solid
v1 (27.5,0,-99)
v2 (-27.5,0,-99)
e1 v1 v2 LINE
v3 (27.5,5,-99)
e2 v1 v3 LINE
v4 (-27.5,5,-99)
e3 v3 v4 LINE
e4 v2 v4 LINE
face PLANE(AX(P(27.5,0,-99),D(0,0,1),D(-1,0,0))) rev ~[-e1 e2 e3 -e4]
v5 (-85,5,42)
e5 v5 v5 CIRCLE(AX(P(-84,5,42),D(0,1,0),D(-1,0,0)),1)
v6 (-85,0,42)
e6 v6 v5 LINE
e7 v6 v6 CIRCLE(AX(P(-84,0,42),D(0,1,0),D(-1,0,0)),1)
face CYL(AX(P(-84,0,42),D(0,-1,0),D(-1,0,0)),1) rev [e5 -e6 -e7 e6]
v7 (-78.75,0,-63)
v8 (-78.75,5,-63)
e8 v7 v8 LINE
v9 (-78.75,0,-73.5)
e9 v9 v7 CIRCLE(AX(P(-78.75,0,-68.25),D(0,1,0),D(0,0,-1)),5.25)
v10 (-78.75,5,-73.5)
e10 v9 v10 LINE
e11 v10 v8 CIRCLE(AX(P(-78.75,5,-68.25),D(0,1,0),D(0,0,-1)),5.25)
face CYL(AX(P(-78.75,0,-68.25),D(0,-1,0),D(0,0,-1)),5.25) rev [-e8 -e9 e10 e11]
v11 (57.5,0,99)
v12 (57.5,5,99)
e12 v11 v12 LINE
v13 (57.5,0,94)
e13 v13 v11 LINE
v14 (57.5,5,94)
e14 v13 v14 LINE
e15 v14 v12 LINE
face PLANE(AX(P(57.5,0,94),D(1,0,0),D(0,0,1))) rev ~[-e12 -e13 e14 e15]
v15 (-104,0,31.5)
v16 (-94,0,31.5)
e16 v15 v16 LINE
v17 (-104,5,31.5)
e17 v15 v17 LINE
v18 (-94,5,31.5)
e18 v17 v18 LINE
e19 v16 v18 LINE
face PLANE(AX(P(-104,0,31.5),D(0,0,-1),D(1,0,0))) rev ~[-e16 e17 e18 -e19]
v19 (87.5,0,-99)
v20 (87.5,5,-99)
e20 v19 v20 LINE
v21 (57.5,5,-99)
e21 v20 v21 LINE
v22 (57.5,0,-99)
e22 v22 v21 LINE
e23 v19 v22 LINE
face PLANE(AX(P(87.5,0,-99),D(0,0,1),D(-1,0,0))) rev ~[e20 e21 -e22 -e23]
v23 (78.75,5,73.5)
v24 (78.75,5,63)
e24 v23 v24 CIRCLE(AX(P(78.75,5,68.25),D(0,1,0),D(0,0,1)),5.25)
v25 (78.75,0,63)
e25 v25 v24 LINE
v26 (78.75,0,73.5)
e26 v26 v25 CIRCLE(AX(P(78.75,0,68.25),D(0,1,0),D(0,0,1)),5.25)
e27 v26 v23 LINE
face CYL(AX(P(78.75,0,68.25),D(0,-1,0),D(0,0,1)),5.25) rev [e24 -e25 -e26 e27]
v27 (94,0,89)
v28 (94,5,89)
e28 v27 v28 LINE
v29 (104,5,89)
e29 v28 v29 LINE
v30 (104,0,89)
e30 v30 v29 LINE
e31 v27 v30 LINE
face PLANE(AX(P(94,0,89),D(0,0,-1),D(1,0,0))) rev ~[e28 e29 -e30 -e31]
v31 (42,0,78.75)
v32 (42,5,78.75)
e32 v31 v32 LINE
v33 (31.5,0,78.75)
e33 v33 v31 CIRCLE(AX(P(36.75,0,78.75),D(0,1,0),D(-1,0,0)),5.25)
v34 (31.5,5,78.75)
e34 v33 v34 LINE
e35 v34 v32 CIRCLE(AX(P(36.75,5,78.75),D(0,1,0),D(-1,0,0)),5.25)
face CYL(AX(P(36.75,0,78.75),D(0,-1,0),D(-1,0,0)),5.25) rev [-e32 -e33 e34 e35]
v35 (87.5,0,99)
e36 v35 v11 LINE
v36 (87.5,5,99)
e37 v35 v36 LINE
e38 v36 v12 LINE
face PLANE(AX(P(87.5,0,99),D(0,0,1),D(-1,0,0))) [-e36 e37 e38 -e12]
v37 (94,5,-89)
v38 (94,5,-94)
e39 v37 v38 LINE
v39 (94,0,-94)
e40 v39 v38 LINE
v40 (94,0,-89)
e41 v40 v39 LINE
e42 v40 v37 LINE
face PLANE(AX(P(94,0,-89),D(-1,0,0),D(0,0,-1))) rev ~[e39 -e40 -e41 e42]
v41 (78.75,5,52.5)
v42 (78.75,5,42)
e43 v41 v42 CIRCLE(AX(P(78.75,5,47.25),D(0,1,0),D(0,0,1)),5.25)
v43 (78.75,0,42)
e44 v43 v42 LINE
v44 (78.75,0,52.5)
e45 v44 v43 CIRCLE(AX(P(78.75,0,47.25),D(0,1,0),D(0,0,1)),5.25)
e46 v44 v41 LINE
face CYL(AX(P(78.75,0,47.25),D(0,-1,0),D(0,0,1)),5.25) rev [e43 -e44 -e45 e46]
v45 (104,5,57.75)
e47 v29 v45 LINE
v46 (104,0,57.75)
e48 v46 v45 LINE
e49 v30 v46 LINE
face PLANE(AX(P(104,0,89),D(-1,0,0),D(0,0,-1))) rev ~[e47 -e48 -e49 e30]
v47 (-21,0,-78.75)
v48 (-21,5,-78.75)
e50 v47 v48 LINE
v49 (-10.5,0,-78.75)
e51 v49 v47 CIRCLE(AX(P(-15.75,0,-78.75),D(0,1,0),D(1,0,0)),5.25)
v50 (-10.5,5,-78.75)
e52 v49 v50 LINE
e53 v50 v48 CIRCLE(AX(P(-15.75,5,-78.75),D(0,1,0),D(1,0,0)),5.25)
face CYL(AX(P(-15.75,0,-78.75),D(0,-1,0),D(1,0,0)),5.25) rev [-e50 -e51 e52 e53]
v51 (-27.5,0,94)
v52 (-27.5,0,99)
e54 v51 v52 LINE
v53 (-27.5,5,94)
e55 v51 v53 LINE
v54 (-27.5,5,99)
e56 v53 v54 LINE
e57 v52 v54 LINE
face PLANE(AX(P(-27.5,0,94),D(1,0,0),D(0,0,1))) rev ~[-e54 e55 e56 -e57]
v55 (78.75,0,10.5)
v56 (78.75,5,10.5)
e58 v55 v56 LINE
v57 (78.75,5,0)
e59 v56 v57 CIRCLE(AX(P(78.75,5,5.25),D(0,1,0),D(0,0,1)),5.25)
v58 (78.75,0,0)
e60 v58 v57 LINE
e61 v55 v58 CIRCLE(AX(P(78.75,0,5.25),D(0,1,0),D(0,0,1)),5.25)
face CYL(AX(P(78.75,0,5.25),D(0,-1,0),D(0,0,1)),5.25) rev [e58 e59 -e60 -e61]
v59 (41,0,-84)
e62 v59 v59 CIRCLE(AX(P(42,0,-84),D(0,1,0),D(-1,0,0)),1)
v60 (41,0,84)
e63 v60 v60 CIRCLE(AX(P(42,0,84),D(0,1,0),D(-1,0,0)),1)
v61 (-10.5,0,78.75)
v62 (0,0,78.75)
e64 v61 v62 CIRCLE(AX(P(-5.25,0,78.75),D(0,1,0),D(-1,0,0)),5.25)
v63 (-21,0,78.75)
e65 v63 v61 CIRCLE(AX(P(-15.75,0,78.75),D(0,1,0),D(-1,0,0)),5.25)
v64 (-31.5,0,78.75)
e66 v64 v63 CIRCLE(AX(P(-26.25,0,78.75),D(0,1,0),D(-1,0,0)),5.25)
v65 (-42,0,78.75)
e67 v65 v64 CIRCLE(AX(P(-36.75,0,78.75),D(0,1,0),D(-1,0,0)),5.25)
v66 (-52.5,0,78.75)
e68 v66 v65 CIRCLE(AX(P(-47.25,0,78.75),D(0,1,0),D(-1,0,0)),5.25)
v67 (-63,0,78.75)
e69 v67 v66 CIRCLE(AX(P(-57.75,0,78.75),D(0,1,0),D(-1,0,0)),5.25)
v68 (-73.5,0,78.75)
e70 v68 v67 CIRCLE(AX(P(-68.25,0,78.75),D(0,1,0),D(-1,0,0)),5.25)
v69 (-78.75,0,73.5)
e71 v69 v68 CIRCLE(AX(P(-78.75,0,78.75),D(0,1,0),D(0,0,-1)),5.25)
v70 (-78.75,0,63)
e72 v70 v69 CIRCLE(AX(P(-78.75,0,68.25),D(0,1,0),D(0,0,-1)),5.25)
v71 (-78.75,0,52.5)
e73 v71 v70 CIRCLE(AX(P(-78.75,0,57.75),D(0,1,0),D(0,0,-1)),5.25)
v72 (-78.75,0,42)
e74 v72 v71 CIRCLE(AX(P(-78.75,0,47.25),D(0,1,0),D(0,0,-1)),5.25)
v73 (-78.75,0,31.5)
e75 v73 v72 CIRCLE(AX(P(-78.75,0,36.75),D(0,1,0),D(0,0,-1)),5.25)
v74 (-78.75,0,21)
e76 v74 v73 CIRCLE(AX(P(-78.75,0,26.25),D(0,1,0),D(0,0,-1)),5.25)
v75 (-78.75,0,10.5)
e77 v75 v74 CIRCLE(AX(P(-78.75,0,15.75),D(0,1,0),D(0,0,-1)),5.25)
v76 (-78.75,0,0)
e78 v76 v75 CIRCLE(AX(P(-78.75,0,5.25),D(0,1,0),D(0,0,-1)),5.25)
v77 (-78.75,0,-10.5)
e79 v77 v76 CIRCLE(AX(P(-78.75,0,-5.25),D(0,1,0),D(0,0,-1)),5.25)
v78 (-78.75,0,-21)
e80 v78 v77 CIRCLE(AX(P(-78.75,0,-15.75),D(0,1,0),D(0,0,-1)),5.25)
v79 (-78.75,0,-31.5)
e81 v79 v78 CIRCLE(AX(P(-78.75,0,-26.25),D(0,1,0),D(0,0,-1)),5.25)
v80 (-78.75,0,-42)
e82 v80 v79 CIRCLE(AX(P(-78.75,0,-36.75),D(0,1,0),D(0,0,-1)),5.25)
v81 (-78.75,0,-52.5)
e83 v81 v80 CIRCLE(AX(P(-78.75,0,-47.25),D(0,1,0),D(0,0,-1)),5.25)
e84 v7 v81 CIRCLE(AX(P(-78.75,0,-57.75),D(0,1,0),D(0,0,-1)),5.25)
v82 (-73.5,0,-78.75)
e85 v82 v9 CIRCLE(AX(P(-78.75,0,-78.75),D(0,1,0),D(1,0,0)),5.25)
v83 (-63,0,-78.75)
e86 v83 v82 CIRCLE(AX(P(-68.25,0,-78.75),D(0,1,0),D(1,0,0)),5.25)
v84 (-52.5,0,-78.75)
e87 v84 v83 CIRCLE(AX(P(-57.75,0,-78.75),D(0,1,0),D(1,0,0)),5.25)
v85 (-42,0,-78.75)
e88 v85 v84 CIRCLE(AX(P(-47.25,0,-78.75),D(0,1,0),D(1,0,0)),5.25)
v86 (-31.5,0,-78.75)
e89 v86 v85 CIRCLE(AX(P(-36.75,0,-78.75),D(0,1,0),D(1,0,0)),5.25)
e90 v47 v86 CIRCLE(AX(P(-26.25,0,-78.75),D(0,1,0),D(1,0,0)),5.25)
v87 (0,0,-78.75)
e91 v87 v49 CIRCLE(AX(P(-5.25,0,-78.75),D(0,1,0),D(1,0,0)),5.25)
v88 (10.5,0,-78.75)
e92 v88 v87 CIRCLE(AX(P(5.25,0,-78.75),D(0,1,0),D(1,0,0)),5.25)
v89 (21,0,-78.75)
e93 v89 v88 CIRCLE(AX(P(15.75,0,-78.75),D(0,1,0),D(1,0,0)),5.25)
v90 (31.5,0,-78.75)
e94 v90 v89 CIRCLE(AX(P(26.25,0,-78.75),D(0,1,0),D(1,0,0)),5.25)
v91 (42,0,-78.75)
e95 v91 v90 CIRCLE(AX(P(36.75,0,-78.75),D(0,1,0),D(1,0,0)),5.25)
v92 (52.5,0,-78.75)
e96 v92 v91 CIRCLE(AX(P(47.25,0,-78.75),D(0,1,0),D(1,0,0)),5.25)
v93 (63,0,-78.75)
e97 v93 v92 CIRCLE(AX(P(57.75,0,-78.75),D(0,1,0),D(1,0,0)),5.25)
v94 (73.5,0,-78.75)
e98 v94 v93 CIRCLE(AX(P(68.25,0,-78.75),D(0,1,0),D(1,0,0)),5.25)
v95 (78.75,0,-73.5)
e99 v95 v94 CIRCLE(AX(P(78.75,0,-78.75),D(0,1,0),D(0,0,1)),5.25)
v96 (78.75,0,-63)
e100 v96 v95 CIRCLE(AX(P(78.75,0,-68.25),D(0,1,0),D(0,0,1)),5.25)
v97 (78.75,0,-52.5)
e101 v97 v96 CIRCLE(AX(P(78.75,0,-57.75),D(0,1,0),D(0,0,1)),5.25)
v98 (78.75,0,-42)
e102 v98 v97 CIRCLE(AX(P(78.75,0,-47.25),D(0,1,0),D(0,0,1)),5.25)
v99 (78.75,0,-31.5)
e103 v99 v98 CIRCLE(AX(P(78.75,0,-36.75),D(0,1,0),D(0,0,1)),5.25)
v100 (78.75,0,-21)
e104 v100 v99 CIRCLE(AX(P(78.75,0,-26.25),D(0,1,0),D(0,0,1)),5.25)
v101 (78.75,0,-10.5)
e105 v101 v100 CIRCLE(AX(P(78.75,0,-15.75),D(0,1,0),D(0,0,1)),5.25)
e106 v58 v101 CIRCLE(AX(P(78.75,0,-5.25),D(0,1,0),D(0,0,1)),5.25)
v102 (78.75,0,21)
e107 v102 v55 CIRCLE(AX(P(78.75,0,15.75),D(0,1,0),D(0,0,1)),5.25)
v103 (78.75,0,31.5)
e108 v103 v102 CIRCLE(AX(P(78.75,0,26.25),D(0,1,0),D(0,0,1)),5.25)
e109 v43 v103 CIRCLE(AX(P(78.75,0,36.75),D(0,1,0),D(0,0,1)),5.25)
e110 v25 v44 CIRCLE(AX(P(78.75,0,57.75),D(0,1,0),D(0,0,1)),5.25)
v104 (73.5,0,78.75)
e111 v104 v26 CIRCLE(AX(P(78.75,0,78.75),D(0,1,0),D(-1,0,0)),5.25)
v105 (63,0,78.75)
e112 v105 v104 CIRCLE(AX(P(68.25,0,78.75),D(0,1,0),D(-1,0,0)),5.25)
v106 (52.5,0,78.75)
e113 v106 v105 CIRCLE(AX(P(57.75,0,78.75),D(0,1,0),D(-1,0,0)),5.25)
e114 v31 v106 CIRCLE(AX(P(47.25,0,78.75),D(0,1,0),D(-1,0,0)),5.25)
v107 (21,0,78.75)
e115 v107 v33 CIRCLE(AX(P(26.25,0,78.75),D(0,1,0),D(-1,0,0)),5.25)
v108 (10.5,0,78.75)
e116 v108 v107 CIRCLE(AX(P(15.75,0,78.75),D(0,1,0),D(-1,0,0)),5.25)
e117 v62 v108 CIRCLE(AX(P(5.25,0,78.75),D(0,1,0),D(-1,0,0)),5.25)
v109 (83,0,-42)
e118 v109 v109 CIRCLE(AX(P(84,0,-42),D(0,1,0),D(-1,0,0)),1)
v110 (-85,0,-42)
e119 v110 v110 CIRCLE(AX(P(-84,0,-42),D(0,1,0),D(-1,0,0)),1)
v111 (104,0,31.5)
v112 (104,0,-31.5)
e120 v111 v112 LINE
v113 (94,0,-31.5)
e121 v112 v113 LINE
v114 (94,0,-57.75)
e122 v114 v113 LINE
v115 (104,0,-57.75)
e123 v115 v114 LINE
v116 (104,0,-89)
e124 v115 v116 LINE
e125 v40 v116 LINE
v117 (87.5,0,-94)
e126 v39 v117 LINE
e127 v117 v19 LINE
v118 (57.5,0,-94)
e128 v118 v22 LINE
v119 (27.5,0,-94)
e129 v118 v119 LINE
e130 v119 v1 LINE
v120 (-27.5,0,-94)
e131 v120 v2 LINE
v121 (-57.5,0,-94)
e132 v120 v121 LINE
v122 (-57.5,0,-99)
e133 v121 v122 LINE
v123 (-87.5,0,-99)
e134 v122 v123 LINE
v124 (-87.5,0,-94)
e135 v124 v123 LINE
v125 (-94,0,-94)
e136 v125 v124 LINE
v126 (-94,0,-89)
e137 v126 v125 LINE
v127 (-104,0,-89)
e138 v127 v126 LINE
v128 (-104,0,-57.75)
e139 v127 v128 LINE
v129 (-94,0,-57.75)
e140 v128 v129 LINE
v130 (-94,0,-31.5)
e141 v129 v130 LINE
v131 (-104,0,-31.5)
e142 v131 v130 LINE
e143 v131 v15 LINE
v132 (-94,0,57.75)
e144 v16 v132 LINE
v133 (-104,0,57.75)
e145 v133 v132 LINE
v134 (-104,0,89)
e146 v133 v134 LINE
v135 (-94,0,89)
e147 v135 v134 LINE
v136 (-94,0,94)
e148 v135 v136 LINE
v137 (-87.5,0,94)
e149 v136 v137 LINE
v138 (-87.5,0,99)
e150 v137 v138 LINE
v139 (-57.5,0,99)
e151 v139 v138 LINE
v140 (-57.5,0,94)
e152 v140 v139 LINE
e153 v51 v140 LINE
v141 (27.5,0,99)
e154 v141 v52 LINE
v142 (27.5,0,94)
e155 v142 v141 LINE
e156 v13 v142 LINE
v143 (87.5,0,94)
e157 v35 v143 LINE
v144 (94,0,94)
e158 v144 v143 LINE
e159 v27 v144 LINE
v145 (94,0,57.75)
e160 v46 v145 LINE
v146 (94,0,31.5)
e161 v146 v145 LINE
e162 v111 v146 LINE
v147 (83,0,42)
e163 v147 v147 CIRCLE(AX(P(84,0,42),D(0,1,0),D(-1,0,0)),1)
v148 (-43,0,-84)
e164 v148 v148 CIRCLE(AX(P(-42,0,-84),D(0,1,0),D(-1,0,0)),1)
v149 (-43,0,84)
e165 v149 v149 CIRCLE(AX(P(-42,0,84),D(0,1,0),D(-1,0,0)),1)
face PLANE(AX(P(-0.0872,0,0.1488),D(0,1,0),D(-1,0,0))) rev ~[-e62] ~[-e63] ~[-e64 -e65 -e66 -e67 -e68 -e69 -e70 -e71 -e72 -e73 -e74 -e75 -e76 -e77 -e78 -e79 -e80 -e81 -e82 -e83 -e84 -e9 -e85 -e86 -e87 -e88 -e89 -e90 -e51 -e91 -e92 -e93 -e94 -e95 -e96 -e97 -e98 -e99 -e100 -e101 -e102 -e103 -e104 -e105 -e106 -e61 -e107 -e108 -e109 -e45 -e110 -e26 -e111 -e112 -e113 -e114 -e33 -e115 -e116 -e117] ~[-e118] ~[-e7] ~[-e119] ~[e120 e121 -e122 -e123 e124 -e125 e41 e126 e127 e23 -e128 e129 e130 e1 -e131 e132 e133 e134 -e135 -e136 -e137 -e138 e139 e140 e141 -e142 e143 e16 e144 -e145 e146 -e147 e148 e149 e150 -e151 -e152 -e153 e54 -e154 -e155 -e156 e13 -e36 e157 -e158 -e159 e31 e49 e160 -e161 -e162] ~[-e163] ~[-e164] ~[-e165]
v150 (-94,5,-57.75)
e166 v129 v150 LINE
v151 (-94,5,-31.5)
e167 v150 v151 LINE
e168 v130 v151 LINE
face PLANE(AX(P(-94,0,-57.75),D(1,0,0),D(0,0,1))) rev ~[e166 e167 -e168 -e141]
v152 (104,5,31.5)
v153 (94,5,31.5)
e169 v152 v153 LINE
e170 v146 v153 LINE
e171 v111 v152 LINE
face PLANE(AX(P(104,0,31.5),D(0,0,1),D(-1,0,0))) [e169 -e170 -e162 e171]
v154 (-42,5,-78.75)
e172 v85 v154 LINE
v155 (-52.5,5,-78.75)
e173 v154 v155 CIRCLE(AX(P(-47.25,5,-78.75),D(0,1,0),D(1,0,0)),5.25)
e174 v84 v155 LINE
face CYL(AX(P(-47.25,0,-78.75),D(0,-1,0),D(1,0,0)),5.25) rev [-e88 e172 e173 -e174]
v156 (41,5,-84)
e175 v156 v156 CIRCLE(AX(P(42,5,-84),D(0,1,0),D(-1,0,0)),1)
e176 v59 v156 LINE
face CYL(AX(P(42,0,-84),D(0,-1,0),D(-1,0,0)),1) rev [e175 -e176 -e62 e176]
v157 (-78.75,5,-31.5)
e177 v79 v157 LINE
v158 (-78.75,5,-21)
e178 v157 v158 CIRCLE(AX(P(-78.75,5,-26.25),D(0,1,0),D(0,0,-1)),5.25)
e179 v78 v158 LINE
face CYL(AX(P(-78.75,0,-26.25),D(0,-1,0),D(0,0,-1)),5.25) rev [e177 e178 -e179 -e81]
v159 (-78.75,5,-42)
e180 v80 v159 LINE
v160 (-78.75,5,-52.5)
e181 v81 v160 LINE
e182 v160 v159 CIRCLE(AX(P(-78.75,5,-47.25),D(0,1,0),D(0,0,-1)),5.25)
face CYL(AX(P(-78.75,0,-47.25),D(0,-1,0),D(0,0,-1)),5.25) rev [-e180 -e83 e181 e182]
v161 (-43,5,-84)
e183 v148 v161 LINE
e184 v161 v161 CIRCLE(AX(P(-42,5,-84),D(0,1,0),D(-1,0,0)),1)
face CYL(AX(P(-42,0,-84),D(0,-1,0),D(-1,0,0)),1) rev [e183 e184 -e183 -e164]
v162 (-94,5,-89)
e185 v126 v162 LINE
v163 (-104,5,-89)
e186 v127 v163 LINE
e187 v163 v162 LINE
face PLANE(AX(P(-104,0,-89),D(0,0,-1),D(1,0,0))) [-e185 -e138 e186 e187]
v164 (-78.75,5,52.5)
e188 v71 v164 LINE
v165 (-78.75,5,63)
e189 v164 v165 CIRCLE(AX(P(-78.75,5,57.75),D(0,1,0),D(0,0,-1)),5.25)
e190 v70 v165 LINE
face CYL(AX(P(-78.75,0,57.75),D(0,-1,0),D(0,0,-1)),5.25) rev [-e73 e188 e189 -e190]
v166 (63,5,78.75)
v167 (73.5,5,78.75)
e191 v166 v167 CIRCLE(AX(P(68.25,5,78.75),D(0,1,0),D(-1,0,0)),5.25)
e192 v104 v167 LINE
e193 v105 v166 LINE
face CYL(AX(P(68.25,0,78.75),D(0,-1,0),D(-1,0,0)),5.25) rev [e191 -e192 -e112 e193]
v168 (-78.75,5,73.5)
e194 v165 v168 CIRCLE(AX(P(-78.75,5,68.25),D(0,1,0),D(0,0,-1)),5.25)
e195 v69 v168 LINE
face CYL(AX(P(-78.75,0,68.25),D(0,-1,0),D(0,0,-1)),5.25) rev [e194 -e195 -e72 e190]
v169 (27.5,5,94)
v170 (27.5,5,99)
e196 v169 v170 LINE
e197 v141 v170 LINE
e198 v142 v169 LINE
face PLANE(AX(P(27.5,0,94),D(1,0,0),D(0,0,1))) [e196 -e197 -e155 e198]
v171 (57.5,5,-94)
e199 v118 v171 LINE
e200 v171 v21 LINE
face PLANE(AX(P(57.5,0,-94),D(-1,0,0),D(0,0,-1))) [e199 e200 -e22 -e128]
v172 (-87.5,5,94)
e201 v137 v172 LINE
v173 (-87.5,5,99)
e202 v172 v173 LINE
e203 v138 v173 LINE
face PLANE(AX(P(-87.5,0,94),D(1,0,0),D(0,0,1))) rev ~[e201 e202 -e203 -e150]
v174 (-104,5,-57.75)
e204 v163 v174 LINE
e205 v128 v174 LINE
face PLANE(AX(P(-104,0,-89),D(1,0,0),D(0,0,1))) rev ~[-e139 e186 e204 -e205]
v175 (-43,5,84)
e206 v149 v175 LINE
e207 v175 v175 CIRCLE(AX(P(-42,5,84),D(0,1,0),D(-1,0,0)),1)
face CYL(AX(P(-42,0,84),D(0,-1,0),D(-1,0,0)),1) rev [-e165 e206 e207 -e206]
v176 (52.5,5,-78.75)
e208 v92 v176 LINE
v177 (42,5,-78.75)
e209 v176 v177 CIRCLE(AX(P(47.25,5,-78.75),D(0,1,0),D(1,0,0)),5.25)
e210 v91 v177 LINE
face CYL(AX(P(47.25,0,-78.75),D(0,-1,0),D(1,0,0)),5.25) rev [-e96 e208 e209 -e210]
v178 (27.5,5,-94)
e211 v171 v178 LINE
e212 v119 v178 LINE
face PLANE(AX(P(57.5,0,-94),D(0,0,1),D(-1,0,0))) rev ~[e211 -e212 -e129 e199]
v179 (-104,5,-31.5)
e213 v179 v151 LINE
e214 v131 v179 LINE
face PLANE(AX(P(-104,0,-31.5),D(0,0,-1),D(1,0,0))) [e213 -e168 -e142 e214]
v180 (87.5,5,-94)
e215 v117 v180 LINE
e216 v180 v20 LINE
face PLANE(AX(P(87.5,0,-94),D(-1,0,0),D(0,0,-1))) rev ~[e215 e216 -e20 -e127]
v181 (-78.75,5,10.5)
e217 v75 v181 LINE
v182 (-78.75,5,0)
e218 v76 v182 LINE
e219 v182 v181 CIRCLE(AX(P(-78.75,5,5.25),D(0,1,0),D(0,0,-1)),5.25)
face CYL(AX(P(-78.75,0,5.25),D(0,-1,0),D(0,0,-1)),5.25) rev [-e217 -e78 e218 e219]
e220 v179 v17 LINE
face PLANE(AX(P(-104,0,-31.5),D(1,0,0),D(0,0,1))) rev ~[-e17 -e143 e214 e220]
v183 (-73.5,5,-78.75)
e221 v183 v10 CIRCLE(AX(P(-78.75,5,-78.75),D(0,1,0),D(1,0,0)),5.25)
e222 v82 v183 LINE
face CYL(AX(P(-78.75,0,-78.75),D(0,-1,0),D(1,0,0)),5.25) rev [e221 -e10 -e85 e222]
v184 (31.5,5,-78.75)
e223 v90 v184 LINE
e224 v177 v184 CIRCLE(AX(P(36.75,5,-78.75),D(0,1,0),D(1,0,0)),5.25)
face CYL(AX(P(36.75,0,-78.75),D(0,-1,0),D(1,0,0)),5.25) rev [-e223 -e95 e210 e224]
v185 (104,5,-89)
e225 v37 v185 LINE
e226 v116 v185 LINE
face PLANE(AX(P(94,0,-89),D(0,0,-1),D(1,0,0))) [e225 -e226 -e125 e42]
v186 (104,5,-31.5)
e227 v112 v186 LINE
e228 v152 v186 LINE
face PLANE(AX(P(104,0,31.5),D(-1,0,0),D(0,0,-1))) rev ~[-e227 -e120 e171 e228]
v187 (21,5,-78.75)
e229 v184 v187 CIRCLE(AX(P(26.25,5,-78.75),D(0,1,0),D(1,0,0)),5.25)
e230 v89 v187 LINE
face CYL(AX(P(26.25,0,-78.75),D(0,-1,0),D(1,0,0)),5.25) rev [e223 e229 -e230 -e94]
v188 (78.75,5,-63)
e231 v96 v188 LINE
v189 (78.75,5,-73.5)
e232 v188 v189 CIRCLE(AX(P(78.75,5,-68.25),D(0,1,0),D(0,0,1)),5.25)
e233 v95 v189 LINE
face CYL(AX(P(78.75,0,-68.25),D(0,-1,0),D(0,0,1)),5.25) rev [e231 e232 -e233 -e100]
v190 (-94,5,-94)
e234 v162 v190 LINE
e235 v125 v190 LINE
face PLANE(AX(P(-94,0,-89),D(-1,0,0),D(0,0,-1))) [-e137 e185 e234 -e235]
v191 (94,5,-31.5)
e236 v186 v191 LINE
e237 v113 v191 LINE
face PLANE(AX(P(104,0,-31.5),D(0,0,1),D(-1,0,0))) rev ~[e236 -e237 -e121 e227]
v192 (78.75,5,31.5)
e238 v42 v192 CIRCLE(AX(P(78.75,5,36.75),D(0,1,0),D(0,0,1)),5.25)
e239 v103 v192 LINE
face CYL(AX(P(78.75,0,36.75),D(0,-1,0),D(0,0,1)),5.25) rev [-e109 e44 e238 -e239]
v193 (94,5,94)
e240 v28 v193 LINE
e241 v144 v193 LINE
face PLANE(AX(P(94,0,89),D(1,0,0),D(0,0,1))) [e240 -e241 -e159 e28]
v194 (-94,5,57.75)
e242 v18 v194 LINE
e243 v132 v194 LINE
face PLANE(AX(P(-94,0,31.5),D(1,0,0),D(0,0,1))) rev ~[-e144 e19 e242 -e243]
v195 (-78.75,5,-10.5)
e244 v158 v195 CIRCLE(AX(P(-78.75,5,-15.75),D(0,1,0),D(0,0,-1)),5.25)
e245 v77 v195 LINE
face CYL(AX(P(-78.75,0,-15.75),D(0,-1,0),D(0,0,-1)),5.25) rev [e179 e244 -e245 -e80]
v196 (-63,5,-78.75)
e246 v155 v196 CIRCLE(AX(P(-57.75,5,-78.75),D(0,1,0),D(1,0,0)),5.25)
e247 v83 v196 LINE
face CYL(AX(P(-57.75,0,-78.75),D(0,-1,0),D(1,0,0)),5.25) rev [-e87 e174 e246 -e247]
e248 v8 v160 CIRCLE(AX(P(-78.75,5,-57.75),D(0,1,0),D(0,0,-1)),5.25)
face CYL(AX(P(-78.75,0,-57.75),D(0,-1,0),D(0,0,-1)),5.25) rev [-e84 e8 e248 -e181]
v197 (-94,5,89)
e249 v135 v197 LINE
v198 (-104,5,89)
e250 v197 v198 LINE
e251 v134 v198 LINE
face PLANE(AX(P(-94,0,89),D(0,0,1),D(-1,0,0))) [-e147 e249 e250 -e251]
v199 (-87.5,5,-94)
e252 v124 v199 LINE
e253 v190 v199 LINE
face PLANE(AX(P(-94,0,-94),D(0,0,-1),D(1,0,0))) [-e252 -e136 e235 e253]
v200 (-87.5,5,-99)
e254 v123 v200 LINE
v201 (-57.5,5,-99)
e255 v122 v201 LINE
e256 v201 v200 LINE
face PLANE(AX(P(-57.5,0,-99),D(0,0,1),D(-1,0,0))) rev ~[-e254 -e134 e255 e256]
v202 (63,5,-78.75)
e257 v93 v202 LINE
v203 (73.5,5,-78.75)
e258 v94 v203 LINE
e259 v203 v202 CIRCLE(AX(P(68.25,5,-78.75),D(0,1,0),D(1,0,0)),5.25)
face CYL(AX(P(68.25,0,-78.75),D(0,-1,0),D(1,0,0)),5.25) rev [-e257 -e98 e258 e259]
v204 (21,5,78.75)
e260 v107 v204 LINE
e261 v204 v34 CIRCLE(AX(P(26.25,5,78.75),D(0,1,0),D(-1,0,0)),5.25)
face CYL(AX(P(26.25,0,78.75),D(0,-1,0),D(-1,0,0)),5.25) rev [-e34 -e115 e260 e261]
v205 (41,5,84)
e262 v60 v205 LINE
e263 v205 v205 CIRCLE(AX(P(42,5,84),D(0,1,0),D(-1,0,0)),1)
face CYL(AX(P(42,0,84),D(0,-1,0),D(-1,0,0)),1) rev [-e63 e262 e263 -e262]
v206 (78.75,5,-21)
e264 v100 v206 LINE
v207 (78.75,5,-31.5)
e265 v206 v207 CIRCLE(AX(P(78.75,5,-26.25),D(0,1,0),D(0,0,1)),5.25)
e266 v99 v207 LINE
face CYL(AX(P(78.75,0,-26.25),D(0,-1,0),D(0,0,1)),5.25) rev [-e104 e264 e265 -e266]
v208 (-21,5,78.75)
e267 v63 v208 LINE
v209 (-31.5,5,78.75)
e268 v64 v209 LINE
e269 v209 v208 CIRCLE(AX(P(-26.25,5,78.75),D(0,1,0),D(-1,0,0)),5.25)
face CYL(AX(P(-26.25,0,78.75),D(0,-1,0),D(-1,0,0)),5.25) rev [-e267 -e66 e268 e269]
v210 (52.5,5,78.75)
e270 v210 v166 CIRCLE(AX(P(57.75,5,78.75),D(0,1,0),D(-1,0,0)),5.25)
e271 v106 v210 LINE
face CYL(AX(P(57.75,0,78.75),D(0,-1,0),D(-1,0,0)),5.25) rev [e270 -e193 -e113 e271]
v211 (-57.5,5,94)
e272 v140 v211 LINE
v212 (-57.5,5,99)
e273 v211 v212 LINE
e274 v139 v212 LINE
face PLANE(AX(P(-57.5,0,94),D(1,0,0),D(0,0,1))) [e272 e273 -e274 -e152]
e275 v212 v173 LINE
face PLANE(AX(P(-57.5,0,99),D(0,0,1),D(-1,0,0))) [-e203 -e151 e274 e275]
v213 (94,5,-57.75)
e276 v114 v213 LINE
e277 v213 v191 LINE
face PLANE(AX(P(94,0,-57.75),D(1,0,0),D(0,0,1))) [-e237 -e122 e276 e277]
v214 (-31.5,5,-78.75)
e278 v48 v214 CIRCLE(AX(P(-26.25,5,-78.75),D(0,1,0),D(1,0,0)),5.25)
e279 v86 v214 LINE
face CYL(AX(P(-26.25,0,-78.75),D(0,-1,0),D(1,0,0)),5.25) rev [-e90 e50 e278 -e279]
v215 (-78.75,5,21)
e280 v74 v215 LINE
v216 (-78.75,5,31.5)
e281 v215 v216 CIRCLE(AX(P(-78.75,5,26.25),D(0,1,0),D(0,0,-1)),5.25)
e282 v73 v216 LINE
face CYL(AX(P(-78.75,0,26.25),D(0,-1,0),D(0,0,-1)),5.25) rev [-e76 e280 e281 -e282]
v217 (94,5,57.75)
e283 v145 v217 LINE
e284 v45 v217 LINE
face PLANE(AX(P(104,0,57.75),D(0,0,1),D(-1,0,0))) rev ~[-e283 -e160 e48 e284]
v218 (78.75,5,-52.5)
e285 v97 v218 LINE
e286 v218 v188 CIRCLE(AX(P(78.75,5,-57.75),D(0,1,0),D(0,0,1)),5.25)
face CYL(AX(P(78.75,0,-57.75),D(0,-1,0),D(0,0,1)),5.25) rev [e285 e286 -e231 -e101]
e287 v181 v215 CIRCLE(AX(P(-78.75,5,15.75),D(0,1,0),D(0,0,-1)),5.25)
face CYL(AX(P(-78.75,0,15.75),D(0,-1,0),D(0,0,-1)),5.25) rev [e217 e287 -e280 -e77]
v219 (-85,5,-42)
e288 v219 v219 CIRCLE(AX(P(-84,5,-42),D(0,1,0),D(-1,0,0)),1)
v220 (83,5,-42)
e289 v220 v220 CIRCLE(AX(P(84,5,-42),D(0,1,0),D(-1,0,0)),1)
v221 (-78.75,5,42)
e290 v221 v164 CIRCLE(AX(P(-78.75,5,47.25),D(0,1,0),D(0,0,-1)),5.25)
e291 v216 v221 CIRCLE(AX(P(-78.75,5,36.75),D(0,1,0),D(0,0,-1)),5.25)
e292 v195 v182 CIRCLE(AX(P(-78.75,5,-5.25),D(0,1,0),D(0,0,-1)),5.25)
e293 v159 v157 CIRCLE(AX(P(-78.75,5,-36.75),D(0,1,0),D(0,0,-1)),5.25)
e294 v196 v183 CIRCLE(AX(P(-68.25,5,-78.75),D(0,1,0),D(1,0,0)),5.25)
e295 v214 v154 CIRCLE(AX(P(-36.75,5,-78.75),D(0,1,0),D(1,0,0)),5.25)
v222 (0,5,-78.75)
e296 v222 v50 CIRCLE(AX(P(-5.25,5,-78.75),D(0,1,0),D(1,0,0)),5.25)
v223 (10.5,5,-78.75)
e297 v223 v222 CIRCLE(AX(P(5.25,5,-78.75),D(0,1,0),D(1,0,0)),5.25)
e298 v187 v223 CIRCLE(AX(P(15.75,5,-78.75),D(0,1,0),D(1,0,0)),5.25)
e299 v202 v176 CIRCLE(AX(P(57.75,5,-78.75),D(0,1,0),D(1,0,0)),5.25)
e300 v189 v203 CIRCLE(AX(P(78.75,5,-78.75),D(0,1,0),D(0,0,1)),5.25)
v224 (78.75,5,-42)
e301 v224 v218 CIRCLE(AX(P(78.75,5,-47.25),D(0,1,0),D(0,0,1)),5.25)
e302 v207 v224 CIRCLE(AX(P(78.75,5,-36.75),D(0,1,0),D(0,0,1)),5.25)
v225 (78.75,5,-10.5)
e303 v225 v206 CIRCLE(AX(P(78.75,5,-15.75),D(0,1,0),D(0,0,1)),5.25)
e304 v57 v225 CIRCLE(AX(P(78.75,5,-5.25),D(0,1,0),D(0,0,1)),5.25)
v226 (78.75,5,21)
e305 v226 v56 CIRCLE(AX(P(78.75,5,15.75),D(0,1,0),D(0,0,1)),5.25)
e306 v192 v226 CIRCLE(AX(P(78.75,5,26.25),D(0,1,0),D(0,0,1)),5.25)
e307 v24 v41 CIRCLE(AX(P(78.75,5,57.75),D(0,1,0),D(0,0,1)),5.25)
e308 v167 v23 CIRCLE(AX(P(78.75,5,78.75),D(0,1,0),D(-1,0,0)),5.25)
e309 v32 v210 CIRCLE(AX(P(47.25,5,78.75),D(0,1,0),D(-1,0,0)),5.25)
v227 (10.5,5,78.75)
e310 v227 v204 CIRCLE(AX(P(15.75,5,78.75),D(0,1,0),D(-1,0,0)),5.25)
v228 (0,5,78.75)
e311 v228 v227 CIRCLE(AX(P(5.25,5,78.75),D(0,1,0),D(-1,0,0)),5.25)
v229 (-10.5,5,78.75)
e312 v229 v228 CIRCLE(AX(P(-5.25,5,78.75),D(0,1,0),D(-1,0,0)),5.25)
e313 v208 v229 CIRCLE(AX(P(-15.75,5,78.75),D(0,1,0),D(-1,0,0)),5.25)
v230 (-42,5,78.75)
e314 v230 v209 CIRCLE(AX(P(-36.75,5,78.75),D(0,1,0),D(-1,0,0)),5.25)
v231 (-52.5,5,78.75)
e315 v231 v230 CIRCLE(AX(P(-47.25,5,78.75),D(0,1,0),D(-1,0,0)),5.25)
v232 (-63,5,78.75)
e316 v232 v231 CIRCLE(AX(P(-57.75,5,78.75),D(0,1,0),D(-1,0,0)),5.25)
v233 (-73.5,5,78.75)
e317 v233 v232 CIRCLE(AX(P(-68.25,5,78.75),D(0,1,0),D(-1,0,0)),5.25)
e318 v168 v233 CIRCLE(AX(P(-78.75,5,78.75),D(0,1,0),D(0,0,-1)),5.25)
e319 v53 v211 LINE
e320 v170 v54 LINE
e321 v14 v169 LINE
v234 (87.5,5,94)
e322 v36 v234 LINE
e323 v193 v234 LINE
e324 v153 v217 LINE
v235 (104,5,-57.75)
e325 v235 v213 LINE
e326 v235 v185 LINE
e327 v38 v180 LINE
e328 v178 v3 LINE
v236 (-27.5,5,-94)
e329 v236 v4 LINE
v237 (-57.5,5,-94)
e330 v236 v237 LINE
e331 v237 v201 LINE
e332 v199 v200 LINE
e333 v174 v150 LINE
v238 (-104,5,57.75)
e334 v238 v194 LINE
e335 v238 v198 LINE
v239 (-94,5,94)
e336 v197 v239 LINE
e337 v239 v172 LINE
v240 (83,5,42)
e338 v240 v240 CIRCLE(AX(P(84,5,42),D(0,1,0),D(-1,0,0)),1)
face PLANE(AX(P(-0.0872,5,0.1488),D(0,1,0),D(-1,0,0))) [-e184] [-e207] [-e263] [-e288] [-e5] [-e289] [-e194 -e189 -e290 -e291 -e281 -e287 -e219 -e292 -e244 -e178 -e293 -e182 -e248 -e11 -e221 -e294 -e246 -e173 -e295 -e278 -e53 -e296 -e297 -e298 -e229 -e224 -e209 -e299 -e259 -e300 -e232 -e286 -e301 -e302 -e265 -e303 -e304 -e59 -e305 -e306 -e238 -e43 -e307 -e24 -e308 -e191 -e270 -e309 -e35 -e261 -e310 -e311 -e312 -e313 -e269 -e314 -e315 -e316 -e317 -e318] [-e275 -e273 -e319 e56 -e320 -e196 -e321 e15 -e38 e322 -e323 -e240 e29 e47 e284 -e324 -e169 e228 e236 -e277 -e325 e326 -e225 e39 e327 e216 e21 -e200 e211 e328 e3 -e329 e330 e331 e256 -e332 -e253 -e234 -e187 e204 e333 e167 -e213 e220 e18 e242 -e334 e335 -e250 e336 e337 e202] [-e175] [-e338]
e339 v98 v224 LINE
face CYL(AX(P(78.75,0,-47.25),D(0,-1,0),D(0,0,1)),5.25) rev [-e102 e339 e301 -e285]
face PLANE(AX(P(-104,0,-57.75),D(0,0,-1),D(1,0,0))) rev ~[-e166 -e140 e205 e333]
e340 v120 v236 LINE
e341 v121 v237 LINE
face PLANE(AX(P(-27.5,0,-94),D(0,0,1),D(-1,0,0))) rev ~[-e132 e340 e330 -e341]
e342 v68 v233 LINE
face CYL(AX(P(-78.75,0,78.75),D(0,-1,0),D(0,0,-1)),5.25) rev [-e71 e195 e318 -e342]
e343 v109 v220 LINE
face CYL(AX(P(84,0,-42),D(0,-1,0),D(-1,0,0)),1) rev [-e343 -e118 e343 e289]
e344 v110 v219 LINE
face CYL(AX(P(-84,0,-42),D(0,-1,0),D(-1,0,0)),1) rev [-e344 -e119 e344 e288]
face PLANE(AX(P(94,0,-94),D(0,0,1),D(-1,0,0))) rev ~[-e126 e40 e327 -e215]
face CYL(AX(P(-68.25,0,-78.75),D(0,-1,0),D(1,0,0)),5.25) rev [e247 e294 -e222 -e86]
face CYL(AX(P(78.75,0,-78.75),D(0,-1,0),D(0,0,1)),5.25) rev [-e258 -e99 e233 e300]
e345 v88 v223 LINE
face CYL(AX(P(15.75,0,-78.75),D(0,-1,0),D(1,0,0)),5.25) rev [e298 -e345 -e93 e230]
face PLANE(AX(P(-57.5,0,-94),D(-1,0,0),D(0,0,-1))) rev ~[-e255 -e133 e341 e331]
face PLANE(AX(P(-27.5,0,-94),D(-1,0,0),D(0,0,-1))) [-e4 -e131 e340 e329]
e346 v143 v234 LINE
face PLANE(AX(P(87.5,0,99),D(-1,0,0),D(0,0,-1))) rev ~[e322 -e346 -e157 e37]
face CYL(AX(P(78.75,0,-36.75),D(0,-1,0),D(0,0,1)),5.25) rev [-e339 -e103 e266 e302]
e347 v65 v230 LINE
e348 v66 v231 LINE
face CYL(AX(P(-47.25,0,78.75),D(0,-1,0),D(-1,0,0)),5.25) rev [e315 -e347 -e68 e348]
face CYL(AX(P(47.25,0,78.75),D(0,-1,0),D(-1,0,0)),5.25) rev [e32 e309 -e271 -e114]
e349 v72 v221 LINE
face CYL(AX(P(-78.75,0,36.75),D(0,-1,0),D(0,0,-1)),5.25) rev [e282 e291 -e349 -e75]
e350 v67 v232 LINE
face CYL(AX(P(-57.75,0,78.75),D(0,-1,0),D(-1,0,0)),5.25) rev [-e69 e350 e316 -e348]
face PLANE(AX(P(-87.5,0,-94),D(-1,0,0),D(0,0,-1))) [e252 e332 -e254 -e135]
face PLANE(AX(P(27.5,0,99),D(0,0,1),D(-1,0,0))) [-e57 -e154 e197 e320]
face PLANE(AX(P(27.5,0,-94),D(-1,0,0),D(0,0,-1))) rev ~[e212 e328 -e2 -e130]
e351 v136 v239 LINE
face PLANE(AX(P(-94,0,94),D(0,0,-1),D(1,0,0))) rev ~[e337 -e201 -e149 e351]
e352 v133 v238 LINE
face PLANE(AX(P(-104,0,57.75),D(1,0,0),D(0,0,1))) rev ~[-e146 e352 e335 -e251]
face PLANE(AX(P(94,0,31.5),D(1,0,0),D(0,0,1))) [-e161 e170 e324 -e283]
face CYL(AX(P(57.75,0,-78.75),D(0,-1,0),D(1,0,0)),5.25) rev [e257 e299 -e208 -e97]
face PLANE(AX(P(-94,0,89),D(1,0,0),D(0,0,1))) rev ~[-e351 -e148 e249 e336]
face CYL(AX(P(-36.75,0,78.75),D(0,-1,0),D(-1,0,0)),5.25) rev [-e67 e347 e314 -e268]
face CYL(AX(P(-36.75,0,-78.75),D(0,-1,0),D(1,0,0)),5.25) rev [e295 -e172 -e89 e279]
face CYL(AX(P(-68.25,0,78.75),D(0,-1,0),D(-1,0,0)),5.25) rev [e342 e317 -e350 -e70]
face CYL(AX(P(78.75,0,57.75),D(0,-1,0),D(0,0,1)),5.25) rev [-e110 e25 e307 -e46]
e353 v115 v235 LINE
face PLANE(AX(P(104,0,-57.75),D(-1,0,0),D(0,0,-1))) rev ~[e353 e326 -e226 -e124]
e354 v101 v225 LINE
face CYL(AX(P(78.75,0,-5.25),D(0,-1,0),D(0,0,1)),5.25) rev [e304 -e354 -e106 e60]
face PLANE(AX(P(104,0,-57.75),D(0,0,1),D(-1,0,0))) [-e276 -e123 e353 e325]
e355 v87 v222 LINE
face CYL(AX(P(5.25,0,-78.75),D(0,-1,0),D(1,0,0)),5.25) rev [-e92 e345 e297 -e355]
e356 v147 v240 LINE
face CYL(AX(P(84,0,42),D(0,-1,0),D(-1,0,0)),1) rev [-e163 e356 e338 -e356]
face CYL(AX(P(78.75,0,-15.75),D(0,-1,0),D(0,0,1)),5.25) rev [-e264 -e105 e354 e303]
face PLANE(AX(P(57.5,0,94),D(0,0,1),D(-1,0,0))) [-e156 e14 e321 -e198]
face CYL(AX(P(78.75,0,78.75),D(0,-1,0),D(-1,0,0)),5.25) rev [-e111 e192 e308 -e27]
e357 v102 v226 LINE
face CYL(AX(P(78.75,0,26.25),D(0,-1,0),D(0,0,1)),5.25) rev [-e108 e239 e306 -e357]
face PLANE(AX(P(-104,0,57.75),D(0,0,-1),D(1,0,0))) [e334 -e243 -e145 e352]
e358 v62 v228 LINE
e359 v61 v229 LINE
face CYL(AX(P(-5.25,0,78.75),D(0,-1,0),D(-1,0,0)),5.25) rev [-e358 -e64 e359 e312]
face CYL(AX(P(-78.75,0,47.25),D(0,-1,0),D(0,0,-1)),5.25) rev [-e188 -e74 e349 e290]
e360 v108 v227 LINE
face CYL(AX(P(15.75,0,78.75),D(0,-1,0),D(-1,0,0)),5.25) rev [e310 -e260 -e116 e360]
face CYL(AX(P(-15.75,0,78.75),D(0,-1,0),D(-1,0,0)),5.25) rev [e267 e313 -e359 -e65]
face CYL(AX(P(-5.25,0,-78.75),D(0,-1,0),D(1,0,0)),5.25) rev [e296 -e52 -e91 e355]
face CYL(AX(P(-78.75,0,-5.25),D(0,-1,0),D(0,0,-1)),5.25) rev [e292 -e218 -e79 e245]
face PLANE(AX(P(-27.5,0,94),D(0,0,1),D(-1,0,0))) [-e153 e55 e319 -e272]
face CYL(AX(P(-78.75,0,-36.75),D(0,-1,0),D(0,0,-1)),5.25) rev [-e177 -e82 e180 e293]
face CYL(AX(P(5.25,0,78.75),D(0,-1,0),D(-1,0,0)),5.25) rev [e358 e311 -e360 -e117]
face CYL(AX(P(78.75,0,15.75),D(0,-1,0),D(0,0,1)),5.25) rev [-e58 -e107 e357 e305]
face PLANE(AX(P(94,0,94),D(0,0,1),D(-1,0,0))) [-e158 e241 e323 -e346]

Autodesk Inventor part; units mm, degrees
ref_plane "YZ Plane" through (0, 0, 0) normal (1, 0, 0) x (0, 1, 0)
ref_plane "XZ Plane" through (0, 0, 0) normal (0, 1, 0) x (-1, 0, 0)
ref_plane "XY Plane" through (0, 0, 0) normal (0, 0, 1) x (1, 0, 0)
sketch "Sketch3" plane through (-0.0872, 0, 0.1488) normal (0, 1, 0) x (-1, 0, 0)
  circle A0 centre (-84.0872, -42.1488) radius 1
  line L0 (-94.0872, -57.8988) -> (-94.0872, -31.6488)
  line L1 (-27.5872, -94.1488) -> (-27.5872, -99.1488)
  line L2 (-27.5872, -99.1488) -> (27.4128, -99.1488)
  line L3 (27.4128, -94.1488) -> (27.4128, -99.1488)
  circle A1 centre (-42.0872, -84.1488) radius 1
  line L4 (-57.5872, -94.1488) -> (-27.5872, -94.1488)
  line L5 (-57.5872, -94.1488) -> (-57.5872, -99.1488)
  line L6 (-87.5872, -99.1488) -> (-57.5872, -99.1488)
  line L7 (-104.0872, -57.8988) -> (-104.0872, -89.1488)
  line L8 (-104.0872, -57.8988) -> (-94.0872, -57.8988)
  line L9 (-94.0872, -89.1488) -> (-104.0872, -89.1488)
  line L10 (-94.0872, -89.1488) -> (-94.0872, -94.1488)
  line L11 (-94.0872, -94.1488) -> (-87.5872, -94.1488)
  line L12 (-87.5872, -94.1488) -> (-87.5872, -99.1488)
  line L13 (-104.0872, 31.3512) -> (-104.0872, -31.6488)
  line L14 (-104.0872, -31.6488) -> (-94.0872, -31.6488)
  circle A2 centre (-84.0872, 41.8512) radius 1
  line L15 (-94.0872, 31.3512) -> (-94.0872, 57.6012)
  line L16 (-104.0872, 31.3512) -> (-94.0872, 31.3512)
  line L17 (-104.0872, 57.6012) -> (-94.0872, 57.6012)
  line L18 (-94.0872, 88.8512) -> (-104.0872, 88.8512)
  line L19 (-104.0872, 88.8512) -> (-104.0872, 57.6012)
  circle A3 centre (-42.0872, 83.8512) radius 1
  line L20 (-87.5872, 98.8512) -> (-87.5872, 93.8512)
  line L21 (-94.0872, 93.8512) -> (-87.5872, 93.8512)
  line L22 (-94.0872, 88.8512) -> (-94.0872, 93.8512)
  line L23 (-87.5872, 98.8512) -> (-57.5872, 98.8512)
  line L24 (-57.5872, 93.8512) -> (-57.5872, 98.8512)
  line L25 (-57.5872, 93.8512) -> (-27.5872, 93.8512)
  line L26 (-27.5872, 93.8512) -> (-27.5872, 98.8512)
  line L27 (-27.5872, 98.8512) -> (27.4128, 98.8512)
  line L28 (27.4128, 93.8512) -> (27.4128, 98.8512)
  circle A4 centre (41.9128, -84.1488) radius 1
  line L29 (93.9128, -57.8988) -> (93.9128, -31.6488)
  circle A5 centre (83.9128, -42.1488) radius 1
  line L30 (103.9128, -57.8988) -> (93.9128, -57.8988)
  line L31 (103.9128, -89.1488) -> (103.9128, -57.8988)
  line L32 (103.9128, -89.1488) -> (93.9128, -89.1488)
  line L33 (57.4128, -94.1488) -> (57.4128, -99.1488)
  line L34 (57.4128, -99.1488) -> (87.4128, -99.1488)
  line L35 (87.4128, -94.1488) -> (87.4128, -99.1488)
  line L36 (93.9128, -94.1488) -> (87.4128, -94.1488)
  line L37 (93.9128, -89.1488) -> (93.9128, -94.1488)
  line L38 (103.9128, -31.6488) -> (93.9128, -31.6488)
  line L39 (27.4128, -94.1488) -> (57.4128, -94.1488)
  line L40 (103.9128, 31.3512) -> (93.9128, 31.3512)
  line L41 (103.9128, 57.6012) -> (93.9128, 57.6012)
  line L42 (103.9128, 57.6012) -> (103.9128, 88.8512)
  line L43 (93.9128, 93.8512) -> (87.4128, 93.8512)
  line L44 (93.9128, 88.8512) -> (103.9128, 88.8512)
  line L45 (93.9128, 88.8512) -> (93.9128, 93.8512)
  line L46 (27.4128, 93.8512) -> (57.4128, 93.8512)
  circle A6 centre (41.9128, 83.8512) radius 1
  circle A7 centre (83.9128, 41.8512) radius 1
  line L47 (57.4128, 93.8512) -> (57.4128, 98.8512)
  line L48 (93.9128, 31.3512) -> (93.9128, 57.6012)
  line L49 (57.4128, 98.8512) -> (87.4128, 98.8512)
  line L50 (87.4128, 93.8512) -> (87.4128, 98.8512)
  line L51 (103.9128, -31.6488) -> (103.9128, 31.3512)
  arc A8 (-73.5872, 78.6012) -> (-78.8372, 73.3512) centre (-78.8372, 78.6012) ccw
  arc A9 (-63.0872, 78.6012) -> (-73.5872, 78.6012) centre (-68.3372, 78.6012) ccw
  arc A10 (-78.8372, 73.3512) -> (-78.8372, 62.8512) centre (-78.8372, 68.1012) ccw
  arc A11 (-52.5872, 78.6012) -> (-63.0872, 78.6012) centre (-57.8372, 78.6012) ccw
  arc A12 (-42.0872, 78.6012) -> (-52.5872, 78.6012) centre (-47.3372, 78.6012) ccw
  arc A13 (-31.5872, 78.6012) -> (-42.0872, 78.6012) centre (-36.8372, 78.6012) ccw
  arc A14 (-21.0872, 78.6012) -> (-31.5872, 78.6012) centre (-26.3372, 78.6012) ccw
  arc A15 (-10.5872, 78.6012) -> (-21.0872, 78.6012) centre (-15.8372, 78.6012) ccw
  arc A16 (-0.0872, 78.6012) -> (-10.5872, 78.6012) centre (-5.3372, 78.6012) ccw
  arc A17 (10.4128, 78.6012) -> (-0.0872, 78.6012) centre (5.1628, 78.6012) ccw
  arc A18 (20.9128, 78.6012) -> (10.4128, 78.6012) centre (15.6628, 78.6012) ccw
  arc A19 (31.4128, 78.6012) -> (20.9128, 78.6012) centre (26.1628, 78.6012) ccw
  arc A20 (41.9128, 78.6012) -> (31.4128, 78.6012) centre (36.6628, 78.6012) ccw
  arc A21 (52.4128, 78.6012) -> (41.9128, 78.6012) centre (47.1628, 78.6012) ccw
  arc A22 (62.9128, 78.6012) -> (52.4128, 78.6012) centre (57.6628, 78.6012) ccw
  arc A23 (73.4128, 78.6012) -> (62.9128, 78.6012) centre (68.1628, 78.6012) ccw
  arc A24 (-78.8372, 62.8512) -> (-78.8372, 52.3512) centre (-78.8372, 57.6012) ccw
  arc A25 (-78.8372, 52.3512) -> (-78.8372, 41.8512) centre (-78.8372, 47.1012) ccw
  arc A26 (-78.8372, 41.8512) -> (-78.8372, 31.3512) centre (-78.8372, 36.6012) ccw
  arc A27 (-78.8372, 31.3512) -> (-78.8372, 20.8512) centre (-78.8372, 26.1012) ccw
  arc A28 (-78.8372, 20.8512) -> (-78.8372, 10.3512) centre (-78.8372, 15.6012) ccw
  arc A29 (-78.8372, 10.3512) -> (-78.8372, -0.1488) centre (-78.8372, 5.1012) ccw
  arc A30 (78.6628, -0.1488) -> (78.6628, 10.3512) centre (78.6628, 5.1012) ccw
  arc A31 (78.6628, 10.3512) -> (78.6628, 20.8512) centre (78.6628, 15.6012) ccw
  arc A32 (78.6628, 20.8512) -> (78.6628, 31.3512) centre (78.6628, 26.1012) ccw
  arc A33 (78.6628, 31.3512) -> (78.6628, 41.8512) centre (78.6628, 36.6012) ccw
  arc A34 (78.6628, 73.3512) -> (73.4128, 78.6012) centre (78.6628, 78.6012) ccw
  arc A35 (78.6628, 62.8512) -> (78.6628, 73.3512) centre (78.6628, 68.1012) ccw
  arc A36 (78.6628, 52.3512) -> (78.6628, 62.8512) centre (78.6628, 57.6012) ccw
  arc A37 (78.6628, 41.8512) -> (78.6628, 52.3512) centre (78.6628, 47.1012) ccw
  arc A38 (-78.8372, -73.6488) -> (-73.5872, -78.8988) centre (-78.8372, -78.8988) ccw
  arc A39 (-73.5872, -78.8988) -> (-63.0872, -78.8988) centre (-68.3372, -78.8988) ccw
  arc A40 (78.6628, -10.6488) -> (78.6628, -0.1488) centre (78.6628, -5.3988) ccw
  arc A41 (78.6628, -21.1488) -> (78.6628, -10.6488) centre (78.6628, -15.8988) ccw
  arc A42 (78.6628, -31.6488) -> (78.6628, -21.1488) centre (78.6628, -26.3988) ccw
  arc A43 (78.6628, -42.1488) -> (78.6628, -31.6488) centre (78.6628, -36.8988) ccw
  arc A44 (31.4128, -78.8988) -> (41.9128, -78.8988) centre (36.6628, -78.8988) ccw
  arc A45 (-10.5872, -78.8988) -> (-0.0872, -78.8988) centre (-5.3372, -78.8988) ccw
  arc A46 (-0.0872, -78.8988) -> (10.4128, -78.8988) centre (5.1628, -78.8988) ccw
  arc A47 (10.4128, -78.8988) -> (20.9128, -78.8988) centre (15.6628, -78.8988) ccw
  arc A48 (20.9128, -78.8988) -> (31.4128, -78.8988) centre (26.1628, -78.8988) ccw
  arc A49 (-63.0872, -78.8988) -> (-52.5872, -78.8988) centre (-57.8372, -78.8988) ccw
  arc A50 (-21.0872, -78.8988) -> (-10.5872, -78.8988) centre (-15.8372, -78.8988) ccw
  arc A51 (-31.5872, -78.8988) -> (-21.0872, -78.8988) centre (-26.3372, -78.8988) ccw
  arc A52 (-42.0872, -78.8988) -> (-31.5872, -78.8988) centre (-36.8372, -78.8988) ccw
  arc A53 (-52.5872, -78.8988) -> (-42.0872, -78.8988) centre (-47.3372, -78.8988) ccw
  arc A54 (41.9128, -78.8988) -> (52.4128, -78.8988) centre (47.1628, -78.8988) ccw
  arc A55 (52.4128, -78.8988) -> (62.9128, -78.8988) centre (57.6628, -78.8988) ccw
  arc A56 (62.9128, -78.8988) -> (73.4128, -78.8988) centre (68.1628, -78.8988) ccw
  arc A57 (78.6628, -52.6488) -> (78.6628, -42.1488) centre (78.6628, -47.3988) ccw
  arc A58 (78.6628, -63.1488) -> (78.6628, -52.6488) centre (78.6628, -57.8988) ccw
  arc A59 (78.6628, -73.6488) -> (78.6628, -63.1488) centre (78.6628, -68.3988) ccw
  arc A60 (73.4128, -78.8988) -> (78.6628, -73.6488) centre (78.6628, -78.8988) ccw
  arc A61 (-78.8372, -21.1488) -> (-78.8372, -31.6488) centre (-78.8372, -26.3988) ccw
  arc A62 (-78.8372, -31.6488) -> (-78.8372, -42.1488) centre (-78.8372, -36.8988) ccw
  arc A63 (-78.8372, -42.1488) -> (-78.8372, -52.6488) centre (-78.8372, -47.3988) ccw
  arc A64 (-78.8372, -10.6488) -> (-78.8372, -21.1488) centre (-78.8372, -15.8988) ccw
  arc A65 (-78.8372, -0.1488) -> (-78.8372, -10.6488) centre (-78.8372, -5.3988) ccw
  arc A66 (-78.8372, -63.1488) -> (-78.8372, -73.6488) centre (-78.8372, -68.3988) ccw
  arc A67 (-78.8372, -52.6488) -> (-78.8372, -63.1488) centre (-78.8372, -57.8988) ccw
  point P0 (-104.0094, 88.5791)
  point P1 (-0.0872, -0.1488)
  point P2 (-0.0001, 0)
  dimension "d154" = 31.25
  dimension "d175" = 2
  dimension "d177" = 2
  dimension "d165" = 2
  dimension "d161" = 2
  dimension "d149" = 2
  dimension "d158" = 2
  dimension "d150" = 84
  dimension "d166" = 84
  dimension "d151" = 84
  dimension "d155" = 30
  dimension "d156" = 30
  dimension "d176" = 55
  dimension "d174" = 30
  dimension "d169" = 30
  dimension "d172" = 10
  dimension "d171" = 5
  dimension "d173" = 31.25
  dimension "d167" = 26.25
  dimension "d164" = 63
  dimension "d163" = 26.25
  dimension "d162" = 31.25
  dimension "d160" = 5
  dimension "d159" = 5
  dimension "d170" = 5
  dimension "d168" = 6.5
  dimension "d181" = 5
  dimension "d157" = 31.25
  dimension "d182" = 26.25
  dimension "d183" = 63
  dimension "d184" = 26.25
  dimension "d152" = 5
  dimension "d147" = 5
  dimension "d153" = 10
  dimension "d185" = 6.5
  dimension "d186" = 30
  dimension "d187" = 55
  dimension "d188" = 30
  dimension "d189" = 30
  dimension "d190" = 6.5
  dimension "d191" = 10
  dimension "d148" = 5
  dimension "d192" = 5
  dimension "d146" = 104
  dimension "d145" = 99
  dimension "d144" = 84
  dimension "d143" = 84
  dimension "d142" = 84
  dimension "d141" = 84
  dimension "d140" = 42
  dimension "d139" = 42
  dimension "d193" = 42
  dimension "d194" = 42
  dimension "d138" = 84
  dimension "d137" = 42
  dimension "d195" = 42
  dimension "d136" = 42
  dimension "d196" = 42
  dimension "d135" = 84
  dimension "d134" = 84
  dimension "d125" = 10.5
  dimension "d119" = 10.5
  dimension "d131" = 15.25
  dimension "d130" = 15.25
extrude "newBoardHolder" add sketch "Sketch3" along normal blind 5
properties part number "NewBoardHolder"
